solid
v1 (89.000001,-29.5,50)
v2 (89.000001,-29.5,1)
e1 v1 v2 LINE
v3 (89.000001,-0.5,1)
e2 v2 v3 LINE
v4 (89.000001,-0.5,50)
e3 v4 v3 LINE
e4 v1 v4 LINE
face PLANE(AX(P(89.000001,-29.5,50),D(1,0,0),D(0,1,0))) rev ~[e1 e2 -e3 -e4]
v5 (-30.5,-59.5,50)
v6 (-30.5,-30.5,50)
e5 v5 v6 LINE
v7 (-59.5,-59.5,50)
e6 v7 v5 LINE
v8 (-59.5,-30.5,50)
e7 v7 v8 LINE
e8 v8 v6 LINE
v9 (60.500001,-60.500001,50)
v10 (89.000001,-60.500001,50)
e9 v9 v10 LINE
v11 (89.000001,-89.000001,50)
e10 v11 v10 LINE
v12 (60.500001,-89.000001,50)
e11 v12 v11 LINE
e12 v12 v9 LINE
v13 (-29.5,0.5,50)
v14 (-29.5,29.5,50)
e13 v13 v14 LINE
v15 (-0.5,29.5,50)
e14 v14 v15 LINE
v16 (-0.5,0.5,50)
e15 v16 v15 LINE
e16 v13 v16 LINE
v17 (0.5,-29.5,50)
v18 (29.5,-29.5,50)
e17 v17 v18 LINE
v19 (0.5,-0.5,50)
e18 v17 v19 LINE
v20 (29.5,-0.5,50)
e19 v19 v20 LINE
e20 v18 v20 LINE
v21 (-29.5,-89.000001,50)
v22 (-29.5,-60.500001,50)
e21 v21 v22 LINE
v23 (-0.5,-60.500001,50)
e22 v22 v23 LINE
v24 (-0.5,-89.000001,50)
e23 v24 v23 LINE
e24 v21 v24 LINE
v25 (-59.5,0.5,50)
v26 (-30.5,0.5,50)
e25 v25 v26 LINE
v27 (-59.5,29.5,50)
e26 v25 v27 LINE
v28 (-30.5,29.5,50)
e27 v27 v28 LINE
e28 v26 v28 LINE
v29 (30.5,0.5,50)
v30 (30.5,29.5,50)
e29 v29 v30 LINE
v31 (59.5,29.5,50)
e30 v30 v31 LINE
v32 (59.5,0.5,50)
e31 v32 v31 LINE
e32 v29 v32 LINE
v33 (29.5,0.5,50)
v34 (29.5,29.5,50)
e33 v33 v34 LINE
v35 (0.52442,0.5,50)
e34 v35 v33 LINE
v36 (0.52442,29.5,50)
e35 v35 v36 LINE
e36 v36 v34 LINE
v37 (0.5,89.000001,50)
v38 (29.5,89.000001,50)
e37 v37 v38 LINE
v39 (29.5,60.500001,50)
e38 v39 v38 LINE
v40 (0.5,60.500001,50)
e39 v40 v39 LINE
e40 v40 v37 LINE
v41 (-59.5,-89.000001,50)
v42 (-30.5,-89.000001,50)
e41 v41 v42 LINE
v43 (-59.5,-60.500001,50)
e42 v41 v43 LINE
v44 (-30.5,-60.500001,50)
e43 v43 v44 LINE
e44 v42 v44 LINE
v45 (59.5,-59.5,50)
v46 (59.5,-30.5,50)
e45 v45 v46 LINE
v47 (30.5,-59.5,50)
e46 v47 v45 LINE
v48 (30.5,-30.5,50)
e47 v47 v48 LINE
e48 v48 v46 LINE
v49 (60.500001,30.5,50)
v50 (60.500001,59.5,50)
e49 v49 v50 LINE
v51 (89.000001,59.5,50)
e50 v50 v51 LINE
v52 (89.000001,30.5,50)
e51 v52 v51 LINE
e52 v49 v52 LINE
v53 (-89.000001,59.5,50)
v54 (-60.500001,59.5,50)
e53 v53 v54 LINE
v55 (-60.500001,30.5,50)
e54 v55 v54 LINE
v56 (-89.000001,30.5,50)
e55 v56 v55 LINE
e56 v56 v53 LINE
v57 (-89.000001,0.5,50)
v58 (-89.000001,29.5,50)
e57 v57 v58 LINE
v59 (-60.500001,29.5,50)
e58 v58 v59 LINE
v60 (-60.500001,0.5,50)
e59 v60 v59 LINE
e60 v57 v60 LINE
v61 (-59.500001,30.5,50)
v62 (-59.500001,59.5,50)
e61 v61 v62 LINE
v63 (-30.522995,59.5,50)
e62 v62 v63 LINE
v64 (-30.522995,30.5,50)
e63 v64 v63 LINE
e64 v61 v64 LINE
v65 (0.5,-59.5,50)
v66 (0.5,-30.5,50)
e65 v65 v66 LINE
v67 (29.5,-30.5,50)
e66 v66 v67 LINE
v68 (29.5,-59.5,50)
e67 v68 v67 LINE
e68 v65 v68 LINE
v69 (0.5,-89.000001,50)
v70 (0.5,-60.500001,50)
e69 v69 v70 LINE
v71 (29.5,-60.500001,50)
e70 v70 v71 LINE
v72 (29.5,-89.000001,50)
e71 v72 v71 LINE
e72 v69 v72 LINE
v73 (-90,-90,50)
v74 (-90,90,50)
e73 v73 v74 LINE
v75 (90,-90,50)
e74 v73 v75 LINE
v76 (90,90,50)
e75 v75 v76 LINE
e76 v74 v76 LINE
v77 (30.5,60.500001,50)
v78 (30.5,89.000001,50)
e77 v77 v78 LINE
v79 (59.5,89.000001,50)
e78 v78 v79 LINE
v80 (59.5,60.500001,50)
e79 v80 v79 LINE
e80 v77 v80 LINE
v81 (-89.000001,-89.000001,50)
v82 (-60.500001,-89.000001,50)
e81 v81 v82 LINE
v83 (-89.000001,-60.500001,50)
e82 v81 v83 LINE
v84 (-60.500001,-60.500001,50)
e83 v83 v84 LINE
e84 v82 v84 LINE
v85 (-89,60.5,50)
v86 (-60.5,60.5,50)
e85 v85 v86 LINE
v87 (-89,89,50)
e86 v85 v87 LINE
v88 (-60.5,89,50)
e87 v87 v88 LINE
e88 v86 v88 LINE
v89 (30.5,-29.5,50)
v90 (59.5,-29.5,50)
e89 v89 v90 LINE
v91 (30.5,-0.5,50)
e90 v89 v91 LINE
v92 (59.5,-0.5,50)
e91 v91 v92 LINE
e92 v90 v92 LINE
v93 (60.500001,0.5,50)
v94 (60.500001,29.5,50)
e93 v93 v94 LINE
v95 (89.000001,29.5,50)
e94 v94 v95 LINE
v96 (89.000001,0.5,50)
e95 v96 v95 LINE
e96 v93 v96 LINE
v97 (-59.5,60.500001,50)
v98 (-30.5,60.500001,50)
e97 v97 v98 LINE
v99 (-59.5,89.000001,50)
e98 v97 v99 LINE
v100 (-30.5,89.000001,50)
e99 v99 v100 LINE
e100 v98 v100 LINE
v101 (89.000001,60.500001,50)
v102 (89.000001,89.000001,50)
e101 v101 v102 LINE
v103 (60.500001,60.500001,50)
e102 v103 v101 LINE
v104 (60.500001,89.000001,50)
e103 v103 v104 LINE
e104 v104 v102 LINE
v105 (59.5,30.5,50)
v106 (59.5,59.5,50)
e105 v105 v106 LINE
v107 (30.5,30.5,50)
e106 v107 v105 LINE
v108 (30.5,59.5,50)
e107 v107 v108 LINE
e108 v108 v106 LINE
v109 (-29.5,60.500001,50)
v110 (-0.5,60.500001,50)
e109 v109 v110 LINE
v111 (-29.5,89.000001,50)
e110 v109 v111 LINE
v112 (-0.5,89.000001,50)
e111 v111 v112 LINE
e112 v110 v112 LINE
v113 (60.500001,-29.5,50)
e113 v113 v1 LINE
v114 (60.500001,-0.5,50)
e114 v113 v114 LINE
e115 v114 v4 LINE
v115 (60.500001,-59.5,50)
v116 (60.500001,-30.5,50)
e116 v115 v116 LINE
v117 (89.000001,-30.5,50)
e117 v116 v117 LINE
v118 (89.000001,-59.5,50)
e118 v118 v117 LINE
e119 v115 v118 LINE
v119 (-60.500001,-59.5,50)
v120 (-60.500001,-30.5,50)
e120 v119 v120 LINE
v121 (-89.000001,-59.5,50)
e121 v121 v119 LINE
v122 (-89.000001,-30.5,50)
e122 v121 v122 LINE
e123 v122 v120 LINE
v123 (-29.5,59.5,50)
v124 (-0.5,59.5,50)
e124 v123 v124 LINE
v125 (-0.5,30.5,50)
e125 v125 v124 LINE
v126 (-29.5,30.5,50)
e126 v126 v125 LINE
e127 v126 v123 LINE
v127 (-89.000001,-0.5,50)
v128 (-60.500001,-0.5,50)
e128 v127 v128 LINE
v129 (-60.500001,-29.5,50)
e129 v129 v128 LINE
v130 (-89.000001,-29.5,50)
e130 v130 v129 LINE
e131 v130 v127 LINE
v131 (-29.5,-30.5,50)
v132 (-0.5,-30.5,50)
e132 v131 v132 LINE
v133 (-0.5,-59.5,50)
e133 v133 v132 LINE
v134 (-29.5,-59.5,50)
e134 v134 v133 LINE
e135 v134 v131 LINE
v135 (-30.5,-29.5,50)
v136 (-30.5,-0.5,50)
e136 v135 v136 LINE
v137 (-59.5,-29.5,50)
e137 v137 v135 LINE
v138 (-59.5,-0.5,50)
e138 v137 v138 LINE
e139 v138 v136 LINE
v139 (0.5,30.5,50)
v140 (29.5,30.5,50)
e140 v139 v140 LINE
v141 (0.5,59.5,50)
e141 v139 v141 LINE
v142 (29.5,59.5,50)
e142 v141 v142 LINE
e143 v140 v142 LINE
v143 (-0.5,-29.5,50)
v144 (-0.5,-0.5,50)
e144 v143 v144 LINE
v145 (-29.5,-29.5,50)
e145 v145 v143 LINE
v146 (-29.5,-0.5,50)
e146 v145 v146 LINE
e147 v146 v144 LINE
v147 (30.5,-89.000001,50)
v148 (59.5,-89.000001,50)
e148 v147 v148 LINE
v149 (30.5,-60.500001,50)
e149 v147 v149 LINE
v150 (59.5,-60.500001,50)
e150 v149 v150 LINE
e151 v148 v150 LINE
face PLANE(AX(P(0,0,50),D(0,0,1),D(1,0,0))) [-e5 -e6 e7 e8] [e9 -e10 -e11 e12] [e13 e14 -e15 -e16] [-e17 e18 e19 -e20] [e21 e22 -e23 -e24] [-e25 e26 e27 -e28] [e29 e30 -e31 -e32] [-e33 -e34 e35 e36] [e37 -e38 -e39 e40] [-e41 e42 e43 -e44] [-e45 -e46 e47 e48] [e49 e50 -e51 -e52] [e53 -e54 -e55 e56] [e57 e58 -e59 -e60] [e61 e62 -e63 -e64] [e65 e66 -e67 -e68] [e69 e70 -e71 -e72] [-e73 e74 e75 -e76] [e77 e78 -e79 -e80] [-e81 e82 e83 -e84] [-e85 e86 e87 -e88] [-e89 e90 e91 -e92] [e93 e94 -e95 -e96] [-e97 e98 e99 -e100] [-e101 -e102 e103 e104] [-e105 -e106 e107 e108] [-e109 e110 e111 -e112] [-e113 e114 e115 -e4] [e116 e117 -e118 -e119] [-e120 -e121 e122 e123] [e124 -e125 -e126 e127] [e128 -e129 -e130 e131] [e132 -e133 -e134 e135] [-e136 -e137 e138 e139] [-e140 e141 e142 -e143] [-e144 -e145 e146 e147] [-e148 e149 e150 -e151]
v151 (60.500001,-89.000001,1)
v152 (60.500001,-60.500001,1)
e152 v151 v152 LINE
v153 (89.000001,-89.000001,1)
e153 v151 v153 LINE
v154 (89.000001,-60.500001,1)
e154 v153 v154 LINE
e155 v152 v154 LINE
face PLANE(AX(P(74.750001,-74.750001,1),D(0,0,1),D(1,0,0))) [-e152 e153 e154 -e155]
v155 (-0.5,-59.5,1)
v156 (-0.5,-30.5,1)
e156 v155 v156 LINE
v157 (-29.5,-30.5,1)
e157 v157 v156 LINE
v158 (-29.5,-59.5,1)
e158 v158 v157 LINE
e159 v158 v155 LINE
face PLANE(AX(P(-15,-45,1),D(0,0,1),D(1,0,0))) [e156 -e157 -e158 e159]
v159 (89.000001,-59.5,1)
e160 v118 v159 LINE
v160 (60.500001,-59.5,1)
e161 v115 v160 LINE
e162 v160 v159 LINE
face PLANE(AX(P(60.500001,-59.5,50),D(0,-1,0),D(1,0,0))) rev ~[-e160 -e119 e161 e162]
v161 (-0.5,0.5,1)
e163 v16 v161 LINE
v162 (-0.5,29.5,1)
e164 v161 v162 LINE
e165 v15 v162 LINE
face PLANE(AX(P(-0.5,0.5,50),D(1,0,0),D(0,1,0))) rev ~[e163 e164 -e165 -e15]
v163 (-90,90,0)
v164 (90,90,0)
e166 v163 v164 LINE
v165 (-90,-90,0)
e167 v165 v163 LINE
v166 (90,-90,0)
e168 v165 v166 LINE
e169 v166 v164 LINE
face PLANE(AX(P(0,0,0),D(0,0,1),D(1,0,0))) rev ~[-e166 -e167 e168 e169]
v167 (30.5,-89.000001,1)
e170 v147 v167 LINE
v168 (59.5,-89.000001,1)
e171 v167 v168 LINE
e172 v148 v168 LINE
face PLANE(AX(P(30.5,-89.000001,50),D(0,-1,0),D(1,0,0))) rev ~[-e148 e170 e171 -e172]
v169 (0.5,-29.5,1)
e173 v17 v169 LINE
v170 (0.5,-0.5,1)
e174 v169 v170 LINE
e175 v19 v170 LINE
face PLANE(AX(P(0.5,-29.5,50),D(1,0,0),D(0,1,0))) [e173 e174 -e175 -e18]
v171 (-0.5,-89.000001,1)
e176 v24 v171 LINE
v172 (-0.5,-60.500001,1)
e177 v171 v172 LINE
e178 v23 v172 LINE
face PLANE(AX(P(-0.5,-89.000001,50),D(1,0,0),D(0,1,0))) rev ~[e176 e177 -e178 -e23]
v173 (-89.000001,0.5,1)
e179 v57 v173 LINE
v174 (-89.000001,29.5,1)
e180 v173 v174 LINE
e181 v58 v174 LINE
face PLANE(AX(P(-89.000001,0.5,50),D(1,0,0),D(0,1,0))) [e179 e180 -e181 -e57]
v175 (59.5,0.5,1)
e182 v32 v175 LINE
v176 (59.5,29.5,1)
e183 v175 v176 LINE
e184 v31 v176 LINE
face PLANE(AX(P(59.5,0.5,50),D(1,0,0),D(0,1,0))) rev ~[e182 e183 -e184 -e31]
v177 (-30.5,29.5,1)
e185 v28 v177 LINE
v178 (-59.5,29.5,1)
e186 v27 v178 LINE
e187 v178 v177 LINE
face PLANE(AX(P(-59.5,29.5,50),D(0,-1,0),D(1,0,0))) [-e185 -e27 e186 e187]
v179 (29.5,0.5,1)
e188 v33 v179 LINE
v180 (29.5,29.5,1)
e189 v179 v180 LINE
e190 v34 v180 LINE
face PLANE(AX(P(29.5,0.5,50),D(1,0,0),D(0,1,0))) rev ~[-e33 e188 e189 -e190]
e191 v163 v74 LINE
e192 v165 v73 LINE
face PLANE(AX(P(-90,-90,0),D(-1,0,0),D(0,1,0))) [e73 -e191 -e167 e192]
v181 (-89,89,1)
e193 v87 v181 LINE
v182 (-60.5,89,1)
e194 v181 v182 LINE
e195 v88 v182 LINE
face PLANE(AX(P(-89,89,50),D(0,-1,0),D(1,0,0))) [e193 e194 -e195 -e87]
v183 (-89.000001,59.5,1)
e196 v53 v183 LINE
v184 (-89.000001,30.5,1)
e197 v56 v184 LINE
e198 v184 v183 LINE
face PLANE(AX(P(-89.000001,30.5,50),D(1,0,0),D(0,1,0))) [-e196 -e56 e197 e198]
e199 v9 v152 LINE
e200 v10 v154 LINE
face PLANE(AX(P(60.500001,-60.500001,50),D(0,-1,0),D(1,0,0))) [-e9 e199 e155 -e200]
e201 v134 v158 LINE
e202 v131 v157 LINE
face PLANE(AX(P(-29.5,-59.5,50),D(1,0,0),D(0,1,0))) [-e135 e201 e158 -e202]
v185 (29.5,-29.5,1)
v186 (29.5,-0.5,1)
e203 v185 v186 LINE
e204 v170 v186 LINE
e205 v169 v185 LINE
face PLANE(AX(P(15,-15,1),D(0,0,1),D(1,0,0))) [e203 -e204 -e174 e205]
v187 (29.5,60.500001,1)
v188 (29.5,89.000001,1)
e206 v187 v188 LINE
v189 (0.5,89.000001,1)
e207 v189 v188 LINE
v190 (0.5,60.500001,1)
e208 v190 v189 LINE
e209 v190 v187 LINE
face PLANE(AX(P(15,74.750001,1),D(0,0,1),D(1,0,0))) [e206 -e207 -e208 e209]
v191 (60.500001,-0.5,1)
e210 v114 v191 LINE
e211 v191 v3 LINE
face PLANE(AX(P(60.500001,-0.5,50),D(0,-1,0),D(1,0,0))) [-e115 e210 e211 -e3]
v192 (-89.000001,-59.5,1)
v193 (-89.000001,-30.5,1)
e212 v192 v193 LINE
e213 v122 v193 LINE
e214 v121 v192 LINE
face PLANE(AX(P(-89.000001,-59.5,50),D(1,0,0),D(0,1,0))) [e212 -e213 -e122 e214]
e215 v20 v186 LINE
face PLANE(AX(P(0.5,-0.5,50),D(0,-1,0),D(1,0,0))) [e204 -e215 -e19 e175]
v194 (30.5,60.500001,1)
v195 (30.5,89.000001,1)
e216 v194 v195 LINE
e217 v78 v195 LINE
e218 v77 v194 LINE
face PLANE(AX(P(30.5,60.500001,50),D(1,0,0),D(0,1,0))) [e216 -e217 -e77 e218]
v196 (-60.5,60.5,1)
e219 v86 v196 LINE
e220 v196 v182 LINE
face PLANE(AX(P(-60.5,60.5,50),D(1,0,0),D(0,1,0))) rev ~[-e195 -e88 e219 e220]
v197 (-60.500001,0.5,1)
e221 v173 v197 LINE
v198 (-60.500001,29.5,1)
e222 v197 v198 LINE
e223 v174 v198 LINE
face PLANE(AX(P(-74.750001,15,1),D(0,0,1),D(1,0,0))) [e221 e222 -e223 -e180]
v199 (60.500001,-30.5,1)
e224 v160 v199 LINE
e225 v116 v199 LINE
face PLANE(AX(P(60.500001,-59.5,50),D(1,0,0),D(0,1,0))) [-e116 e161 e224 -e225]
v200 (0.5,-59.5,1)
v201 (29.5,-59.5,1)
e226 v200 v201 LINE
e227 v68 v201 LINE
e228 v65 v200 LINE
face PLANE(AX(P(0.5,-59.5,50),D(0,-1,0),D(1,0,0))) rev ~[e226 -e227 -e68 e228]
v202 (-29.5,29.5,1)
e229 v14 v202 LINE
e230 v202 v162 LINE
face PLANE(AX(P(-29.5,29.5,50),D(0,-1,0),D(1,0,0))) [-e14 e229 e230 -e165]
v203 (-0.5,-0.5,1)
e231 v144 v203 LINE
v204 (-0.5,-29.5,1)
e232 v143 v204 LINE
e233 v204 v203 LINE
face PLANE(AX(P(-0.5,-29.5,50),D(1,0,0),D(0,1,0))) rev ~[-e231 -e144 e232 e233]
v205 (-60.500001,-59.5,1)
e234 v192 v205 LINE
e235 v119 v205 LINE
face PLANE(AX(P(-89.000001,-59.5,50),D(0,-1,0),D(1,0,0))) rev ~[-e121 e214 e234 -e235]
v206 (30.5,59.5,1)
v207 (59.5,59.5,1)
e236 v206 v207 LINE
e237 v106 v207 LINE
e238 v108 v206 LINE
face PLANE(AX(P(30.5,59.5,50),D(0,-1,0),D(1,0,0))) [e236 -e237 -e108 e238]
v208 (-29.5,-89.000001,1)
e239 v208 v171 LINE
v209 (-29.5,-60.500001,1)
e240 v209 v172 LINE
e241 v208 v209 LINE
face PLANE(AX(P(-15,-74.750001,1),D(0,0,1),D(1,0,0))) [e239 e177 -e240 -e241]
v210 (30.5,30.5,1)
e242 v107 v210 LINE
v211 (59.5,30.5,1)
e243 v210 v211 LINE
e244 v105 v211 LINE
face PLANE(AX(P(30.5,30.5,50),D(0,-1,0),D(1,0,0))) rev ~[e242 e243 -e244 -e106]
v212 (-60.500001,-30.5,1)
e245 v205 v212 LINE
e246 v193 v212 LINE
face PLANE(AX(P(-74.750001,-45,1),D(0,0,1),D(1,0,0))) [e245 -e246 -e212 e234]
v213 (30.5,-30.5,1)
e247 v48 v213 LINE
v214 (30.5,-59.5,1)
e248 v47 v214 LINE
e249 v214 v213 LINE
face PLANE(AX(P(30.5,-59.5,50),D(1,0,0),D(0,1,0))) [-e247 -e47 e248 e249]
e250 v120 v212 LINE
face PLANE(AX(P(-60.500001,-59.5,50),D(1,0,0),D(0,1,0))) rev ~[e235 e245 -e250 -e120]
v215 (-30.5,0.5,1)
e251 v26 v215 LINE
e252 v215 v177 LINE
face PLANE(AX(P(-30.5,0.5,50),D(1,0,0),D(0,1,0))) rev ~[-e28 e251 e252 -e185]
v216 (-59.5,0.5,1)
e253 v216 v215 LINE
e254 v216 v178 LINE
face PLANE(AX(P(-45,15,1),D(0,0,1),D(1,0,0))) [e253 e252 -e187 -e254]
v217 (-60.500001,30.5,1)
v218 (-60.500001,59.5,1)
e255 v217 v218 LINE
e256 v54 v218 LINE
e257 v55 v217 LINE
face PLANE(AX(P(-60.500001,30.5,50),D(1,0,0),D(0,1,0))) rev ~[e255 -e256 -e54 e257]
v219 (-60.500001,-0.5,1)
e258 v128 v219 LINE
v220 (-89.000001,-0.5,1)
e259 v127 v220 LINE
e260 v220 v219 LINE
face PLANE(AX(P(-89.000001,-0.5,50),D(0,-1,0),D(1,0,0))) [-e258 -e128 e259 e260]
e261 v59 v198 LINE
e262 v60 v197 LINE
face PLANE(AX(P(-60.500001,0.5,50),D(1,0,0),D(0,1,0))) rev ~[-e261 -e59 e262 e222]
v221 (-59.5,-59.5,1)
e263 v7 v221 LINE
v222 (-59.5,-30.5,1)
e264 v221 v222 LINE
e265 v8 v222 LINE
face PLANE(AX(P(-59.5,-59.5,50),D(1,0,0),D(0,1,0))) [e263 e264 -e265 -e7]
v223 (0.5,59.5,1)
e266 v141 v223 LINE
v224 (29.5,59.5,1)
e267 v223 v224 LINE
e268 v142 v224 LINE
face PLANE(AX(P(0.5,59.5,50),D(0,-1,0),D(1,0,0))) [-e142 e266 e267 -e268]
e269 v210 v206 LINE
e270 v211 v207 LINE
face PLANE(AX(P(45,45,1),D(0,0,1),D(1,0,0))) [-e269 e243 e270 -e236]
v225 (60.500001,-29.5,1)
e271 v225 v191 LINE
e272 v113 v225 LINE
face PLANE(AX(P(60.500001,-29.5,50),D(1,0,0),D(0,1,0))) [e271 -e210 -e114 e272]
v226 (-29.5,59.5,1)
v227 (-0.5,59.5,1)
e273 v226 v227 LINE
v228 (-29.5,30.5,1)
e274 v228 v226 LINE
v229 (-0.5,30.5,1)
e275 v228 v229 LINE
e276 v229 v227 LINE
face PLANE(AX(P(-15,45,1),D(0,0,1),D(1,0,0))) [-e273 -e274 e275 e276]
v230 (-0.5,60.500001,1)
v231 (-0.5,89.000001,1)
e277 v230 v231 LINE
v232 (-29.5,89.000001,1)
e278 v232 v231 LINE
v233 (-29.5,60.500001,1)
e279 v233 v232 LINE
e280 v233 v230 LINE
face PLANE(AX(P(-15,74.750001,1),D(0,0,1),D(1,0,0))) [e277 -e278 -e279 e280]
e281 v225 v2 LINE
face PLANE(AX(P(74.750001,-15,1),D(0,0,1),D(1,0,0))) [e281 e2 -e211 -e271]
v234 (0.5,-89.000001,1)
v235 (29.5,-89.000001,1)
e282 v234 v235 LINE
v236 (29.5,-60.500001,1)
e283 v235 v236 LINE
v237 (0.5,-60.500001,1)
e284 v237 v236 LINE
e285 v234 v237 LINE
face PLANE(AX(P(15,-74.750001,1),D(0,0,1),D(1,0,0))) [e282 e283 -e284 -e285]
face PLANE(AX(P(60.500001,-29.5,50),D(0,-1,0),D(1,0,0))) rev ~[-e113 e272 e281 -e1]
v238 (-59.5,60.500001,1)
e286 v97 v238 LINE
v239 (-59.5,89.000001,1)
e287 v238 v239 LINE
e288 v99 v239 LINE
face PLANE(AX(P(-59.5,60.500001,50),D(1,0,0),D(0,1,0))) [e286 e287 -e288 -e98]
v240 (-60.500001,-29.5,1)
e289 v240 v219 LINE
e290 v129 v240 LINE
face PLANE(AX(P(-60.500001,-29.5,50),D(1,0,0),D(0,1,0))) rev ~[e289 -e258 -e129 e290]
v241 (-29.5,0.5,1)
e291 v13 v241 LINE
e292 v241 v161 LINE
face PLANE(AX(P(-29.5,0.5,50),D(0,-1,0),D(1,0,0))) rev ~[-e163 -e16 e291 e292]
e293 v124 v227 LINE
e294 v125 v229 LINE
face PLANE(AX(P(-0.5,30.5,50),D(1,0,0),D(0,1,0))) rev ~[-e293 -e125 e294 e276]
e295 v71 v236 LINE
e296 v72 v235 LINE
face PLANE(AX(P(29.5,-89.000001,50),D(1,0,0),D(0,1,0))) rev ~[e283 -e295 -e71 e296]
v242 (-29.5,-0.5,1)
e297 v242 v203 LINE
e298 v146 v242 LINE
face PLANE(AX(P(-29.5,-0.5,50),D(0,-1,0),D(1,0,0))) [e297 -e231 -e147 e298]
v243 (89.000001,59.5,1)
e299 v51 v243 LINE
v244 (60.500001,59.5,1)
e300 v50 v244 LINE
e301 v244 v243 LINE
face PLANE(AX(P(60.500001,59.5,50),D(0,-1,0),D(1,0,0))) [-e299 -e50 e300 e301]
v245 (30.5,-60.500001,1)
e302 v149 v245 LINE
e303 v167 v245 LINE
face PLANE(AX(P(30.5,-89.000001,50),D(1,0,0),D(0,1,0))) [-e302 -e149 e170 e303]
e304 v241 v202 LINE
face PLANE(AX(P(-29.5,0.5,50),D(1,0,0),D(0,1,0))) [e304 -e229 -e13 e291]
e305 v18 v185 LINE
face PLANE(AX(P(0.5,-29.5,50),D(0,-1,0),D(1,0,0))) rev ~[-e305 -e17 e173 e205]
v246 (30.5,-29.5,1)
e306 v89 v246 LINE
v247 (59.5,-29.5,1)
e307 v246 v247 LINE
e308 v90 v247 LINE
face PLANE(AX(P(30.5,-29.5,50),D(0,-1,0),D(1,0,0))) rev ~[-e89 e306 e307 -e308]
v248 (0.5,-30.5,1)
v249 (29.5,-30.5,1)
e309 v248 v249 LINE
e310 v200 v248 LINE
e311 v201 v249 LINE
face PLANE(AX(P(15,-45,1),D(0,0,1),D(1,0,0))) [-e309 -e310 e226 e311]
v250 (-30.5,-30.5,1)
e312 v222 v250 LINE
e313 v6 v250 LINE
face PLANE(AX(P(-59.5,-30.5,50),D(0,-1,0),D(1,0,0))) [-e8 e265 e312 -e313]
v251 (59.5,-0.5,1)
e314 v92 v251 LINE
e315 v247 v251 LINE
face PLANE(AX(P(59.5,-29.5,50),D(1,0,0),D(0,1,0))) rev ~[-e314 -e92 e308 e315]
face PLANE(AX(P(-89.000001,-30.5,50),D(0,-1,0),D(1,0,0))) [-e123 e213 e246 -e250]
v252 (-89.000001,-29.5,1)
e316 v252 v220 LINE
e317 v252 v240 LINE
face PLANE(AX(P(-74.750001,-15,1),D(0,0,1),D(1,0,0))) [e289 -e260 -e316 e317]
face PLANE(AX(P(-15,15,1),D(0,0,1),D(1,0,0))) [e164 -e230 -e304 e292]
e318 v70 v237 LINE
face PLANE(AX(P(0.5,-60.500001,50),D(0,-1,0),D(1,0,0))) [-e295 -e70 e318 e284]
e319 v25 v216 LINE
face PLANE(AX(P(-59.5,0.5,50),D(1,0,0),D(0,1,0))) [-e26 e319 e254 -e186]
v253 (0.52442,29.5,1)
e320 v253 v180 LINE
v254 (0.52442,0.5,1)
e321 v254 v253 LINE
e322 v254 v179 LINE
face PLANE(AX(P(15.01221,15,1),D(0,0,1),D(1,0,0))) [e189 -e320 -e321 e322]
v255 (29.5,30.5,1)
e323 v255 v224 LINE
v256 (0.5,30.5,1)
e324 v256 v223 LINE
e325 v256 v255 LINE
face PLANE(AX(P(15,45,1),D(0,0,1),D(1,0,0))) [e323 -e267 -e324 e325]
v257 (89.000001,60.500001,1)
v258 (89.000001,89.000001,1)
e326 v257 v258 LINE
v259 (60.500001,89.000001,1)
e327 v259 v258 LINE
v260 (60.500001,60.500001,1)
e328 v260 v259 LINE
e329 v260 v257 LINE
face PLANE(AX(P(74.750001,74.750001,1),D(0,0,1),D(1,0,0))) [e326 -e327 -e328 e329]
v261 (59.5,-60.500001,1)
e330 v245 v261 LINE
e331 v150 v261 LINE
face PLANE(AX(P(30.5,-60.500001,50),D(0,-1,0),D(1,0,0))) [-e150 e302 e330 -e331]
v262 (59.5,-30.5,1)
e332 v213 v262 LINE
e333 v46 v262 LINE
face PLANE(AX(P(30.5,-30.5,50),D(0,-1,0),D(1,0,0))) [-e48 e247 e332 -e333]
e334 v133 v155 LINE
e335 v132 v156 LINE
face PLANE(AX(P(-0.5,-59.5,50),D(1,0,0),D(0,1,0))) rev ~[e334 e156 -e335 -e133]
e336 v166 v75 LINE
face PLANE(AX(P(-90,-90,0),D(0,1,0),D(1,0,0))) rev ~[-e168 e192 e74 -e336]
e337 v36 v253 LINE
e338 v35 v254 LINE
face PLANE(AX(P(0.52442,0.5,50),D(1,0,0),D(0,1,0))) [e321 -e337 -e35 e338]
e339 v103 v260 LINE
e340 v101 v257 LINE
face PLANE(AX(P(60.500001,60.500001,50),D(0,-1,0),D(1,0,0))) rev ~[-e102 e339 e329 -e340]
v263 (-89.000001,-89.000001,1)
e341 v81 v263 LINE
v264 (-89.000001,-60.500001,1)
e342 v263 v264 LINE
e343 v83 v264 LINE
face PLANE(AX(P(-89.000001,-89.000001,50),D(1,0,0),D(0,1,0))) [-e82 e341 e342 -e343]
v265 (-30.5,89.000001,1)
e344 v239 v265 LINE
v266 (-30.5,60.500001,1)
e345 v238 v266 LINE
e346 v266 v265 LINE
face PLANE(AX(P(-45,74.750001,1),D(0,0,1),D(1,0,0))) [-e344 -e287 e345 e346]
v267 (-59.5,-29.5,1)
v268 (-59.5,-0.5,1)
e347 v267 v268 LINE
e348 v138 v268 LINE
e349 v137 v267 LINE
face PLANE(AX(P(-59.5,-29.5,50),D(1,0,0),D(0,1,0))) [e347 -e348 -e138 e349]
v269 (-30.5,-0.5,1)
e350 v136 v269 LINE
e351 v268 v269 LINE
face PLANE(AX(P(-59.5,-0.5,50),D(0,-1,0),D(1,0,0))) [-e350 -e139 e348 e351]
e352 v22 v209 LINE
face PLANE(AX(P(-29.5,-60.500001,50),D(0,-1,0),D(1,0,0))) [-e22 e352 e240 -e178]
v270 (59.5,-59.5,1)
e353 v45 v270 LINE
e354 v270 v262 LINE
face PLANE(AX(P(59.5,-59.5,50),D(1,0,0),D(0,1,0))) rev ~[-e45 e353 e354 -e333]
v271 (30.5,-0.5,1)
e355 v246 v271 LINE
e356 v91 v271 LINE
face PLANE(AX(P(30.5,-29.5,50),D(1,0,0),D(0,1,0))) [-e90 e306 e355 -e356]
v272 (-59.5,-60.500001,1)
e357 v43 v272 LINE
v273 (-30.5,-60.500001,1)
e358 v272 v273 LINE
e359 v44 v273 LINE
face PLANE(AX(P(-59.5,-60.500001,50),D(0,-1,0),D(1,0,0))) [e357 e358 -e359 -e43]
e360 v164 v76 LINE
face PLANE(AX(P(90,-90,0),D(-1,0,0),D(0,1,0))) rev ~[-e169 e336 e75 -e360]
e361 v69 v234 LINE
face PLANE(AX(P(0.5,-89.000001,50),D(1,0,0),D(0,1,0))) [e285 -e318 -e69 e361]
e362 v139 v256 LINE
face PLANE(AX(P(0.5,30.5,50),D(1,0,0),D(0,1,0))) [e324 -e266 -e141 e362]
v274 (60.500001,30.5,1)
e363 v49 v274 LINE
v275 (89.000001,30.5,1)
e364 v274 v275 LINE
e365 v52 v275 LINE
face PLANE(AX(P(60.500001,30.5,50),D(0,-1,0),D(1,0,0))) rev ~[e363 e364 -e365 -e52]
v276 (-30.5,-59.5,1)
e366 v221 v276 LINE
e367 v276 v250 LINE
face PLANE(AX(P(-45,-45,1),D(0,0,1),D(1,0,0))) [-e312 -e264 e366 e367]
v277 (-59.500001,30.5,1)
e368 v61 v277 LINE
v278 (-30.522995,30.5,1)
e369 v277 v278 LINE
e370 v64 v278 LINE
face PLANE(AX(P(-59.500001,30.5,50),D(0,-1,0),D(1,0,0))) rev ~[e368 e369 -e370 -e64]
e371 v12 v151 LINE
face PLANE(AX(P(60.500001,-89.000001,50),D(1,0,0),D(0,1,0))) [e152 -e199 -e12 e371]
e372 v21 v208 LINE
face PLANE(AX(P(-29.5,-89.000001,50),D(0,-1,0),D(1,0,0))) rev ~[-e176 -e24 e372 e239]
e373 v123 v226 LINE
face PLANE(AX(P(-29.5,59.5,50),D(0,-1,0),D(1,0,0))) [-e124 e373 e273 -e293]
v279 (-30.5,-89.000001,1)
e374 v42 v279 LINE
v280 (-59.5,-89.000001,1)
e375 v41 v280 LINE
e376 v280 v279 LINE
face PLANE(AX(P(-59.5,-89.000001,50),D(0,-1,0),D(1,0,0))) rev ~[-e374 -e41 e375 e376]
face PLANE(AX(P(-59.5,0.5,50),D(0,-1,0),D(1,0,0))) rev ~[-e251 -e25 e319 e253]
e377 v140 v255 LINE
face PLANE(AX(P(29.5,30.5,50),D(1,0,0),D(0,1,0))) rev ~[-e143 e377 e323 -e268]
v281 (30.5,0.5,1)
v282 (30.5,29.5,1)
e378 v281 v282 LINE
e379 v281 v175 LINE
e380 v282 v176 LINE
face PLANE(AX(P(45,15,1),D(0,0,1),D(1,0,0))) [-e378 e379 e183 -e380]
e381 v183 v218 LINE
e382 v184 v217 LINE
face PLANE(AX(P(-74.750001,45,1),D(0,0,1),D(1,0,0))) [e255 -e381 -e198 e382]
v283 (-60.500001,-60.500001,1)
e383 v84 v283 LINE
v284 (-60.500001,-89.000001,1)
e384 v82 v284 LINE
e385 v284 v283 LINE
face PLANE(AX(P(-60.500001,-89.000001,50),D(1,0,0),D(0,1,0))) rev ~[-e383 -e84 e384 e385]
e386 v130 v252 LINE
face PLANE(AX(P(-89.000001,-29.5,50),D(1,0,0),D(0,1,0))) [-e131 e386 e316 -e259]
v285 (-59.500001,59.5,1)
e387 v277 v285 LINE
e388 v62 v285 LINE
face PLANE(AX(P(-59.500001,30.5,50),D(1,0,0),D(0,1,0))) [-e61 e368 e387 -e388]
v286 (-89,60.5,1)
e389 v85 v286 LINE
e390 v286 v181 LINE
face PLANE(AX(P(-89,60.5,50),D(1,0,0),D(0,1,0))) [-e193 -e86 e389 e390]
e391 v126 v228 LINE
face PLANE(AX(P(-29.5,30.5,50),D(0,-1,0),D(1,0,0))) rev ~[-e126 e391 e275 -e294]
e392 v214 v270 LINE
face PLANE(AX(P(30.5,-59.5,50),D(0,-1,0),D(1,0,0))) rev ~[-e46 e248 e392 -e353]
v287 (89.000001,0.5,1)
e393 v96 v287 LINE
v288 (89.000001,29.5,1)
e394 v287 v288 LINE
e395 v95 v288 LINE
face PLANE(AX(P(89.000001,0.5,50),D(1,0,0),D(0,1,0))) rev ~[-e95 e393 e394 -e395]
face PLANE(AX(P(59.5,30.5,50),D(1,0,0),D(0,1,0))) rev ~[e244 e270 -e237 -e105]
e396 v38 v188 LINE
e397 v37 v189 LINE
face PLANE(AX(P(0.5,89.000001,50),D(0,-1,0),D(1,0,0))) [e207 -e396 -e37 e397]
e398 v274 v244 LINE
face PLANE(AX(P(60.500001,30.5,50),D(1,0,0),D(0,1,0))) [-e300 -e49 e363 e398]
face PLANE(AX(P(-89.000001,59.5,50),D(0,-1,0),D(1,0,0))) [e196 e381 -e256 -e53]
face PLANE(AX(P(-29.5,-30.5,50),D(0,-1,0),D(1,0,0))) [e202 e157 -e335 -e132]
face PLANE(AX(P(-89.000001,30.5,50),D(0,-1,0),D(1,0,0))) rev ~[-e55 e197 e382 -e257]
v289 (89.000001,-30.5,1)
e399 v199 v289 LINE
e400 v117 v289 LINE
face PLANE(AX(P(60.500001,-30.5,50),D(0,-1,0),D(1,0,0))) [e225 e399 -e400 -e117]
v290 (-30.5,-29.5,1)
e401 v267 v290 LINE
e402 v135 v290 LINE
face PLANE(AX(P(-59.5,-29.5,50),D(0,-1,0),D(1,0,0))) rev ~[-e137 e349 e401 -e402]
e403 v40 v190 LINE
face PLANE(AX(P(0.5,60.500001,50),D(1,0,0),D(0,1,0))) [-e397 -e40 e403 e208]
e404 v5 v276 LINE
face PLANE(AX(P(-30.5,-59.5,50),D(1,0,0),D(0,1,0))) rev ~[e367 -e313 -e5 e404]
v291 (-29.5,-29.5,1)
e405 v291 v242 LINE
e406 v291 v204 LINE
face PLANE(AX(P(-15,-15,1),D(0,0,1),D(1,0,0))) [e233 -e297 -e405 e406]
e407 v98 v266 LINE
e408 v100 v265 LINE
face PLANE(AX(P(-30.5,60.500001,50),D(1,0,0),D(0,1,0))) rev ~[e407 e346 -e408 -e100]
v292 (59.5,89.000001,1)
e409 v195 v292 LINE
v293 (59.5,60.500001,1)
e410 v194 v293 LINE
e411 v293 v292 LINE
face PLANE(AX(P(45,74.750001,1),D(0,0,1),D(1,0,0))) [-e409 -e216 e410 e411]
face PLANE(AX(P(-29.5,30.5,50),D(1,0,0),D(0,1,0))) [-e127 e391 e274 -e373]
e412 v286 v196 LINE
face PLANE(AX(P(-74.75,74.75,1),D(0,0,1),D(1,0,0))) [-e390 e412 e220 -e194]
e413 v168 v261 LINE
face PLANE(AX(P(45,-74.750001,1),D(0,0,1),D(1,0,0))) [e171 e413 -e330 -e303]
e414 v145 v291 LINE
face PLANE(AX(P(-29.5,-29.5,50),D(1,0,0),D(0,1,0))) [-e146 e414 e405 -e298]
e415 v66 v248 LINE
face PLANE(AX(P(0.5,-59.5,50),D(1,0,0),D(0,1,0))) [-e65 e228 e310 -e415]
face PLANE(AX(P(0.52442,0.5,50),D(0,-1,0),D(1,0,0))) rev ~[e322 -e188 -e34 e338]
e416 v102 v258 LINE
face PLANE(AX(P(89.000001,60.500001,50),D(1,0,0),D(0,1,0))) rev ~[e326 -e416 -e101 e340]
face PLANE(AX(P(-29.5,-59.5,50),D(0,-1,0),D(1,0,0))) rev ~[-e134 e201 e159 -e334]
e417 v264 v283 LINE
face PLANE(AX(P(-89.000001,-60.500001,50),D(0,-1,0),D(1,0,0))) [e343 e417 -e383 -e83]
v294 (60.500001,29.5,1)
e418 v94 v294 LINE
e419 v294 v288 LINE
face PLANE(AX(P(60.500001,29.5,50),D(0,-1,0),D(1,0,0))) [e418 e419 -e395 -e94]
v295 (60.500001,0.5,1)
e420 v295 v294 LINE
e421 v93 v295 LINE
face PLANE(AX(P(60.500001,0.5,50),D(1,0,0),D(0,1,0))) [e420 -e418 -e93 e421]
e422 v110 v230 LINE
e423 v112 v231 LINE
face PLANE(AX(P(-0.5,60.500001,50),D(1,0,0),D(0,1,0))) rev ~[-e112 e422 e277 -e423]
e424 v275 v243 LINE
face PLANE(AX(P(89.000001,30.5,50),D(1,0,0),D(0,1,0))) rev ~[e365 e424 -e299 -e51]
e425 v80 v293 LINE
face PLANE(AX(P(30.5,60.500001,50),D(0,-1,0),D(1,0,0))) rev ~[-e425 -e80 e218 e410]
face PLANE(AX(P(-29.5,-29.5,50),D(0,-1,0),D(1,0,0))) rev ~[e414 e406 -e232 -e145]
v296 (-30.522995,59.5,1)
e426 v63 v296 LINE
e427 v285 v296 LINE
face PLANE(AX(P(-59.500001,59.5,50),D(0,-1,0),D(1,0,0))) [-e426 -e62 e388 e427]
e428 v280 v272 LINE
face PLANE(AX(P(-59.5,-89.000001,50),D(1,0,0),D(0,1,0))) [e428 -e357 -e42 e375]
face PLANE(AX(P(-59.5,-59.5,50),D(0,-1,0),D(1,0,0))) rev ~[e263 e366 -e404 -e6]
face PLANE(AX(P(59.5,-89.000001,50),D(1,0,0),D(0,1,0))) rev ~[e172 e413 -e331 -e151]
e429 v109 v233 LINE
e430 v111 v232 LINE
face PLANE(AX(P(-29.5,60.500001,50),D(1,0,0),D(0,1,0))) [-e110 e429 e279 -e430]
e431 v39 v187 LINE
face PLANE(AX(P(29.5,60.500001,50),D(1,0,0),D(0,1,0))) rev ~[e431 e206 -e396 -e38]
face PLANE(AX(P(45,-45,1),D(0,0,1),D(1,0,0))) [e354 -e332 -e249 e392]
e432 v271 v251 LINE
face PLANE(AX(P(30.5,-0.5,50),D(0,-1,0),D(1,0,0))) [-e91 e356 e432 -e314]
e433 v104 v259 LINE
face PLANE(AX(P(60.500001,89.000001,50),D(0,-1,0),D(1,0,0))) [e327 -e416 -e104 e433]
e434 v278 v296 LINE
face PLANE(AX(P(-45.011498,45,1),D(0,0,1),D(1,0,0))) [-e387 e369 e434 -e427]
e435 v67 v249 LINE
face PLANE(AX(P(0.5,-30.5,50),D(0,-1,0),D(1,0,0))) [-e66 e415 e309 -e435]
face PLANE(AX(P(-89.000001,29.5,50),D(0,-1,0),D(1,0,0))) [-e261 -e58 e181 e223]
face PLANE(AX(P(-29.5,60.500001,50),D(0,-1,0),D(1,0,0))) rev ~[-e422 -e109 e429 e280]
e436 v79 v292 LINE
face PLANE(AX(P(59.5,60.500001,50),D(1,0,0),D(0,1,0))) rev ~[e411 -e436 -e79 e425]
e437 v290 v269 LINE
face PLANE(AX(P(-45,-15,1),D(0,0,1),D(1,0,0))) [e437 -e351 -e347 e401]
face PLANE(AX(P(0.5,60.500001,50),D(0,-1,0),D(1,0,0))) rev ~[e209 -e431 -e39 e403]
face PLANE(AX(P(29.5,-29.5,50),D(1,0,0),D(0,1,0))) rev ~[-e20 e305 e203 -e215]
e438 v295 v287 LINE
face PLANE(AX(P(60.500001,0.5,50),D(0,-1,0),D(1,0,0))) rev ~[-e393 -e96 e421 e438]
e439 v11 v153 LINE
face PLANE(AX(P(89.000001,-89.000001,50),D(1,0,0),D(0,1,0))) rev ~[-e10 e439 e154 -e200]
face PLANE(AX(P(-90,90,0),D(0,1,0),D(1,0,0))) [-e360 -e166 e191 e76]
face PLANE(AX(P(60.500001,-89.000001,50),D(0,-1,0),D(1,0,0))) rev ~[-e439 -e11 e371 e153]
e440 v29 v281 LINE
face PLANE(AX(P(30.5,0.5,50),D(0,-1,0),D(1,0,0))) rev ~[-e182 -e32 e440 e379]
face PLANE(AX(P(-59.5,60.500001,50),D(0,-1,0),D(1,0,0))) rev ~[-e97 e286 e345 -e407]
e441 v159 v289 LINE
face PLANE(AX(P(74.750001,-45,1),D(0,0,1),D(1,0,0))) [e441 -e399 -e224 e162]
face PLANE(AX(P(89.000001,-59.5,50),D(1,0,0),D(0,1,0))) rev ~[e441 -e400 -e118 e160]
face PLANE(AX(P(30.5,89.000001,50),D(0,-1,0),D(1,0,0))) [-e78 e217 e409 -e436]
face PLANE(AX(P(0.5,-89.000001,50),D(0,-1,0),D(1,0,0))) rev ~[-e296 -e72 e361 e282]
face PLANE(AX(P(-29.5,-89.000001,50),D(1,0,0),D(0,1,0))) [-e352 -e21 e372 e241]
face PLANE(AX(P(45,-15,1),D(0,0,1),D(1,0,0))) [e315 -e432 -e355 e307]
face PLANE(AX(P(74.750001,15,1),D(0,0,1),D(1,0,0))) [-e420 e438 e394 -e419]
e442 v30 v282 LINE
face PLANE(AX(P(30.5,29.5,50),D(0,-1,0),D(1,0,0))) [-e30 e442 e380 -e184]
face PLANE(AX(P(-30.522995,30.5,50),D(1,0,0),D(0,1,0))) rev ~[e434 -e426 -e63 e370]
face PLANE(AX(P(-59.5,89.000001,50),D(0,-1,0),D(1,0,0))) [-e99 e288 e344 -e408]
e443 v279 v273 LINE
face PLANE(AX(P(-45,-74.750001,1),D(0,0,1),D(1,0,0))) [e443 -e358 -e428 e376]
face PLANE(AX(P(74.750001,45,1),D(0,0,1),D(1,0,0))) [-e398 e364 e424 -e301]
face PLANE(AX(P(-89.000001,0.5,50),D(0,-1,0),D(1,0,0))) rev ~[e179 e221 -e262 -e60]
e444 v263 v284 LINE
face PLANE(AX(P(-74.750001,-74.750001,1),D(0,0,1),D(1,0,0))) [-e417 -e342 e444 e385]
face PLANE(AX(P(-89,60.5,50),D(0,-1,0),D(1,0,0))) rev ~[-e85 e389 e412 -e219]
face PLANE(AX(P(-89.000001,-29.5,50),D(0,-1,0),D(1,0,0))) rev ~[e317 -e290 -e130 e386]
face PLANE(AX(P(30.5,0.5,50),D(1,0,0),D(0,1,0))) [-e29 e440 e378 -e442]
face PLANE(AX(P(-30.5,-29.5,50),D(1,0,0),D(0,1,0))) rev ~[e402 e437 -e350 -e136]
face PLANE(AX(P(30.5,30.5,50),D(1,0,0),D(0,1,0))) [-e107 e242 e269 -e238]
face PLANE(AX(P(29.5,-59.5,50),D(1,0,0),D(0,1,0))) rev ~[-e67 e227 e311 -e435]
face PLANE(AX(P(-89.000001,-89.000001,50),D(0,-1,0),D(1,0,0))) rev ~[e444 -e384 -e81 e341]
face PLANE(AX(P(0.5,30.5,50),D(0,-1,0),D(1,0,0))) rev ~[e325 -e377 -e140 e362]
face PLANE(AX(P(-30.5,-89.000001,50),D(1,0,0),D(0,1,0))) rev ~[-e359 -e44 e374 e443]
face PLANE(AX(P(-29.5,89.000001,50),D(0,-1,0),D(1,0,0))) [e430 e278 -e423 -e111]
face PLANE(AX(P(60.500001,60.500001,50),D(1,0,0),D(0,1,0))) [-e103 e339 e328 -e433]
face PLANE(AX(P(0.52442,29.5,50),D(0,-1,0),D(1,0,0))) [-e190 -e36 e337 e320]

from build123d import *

# Parameters (mm, degrees)
SKETCH_W      = 180
SKETCH_H      = 180
PAD_DEPTH     = 50
SKETCH001_W   = 28.499999
SKETCH001_H   = 28.499999
SKETCH001_W_2 = 28.5
SKETCH001_H_2 = 29.000001
SKETCH001_H_3 = 29
SKETCH001_W_3 = 29.000001
SKETCH001_H_4 = 28.5
SKETCH001_W_4 = 28.977006
SKETCH001_W_5 = 29
SKETCH001_W_6 = 28.975581
POCKET_DEPTH  = 49


with BuildPart() as part:
    # Sketch → Pad (new body)
    with BuildSketch(Plane.XY):
        Rectangle(SKETCH_W, SKETCH_H)
    extrude(amount=PAD_DEPTH)

    # Sketch001 (on Face6 of Pad) → Pocket (cut)
    with BuildSketch(Plane.XY.offset(50)):
        with Locations((-74.75, 74.75)):
            Rectangle(SKETCH001_W, SKETCH001_H)
        with Locations((-74.750001, 45)):
            Rectangle(SKETCH001_W_2, SKETCH001_H_2)
        with Locations((-74.750001, 15)):
            Rectangle(SKETCH001_W_2, SKETCH001_H_3)
        with Locations((-45, 74.750001)):
            Rectangle(SKETCH001_W_3, SKETCH001_H_4)
        with Locations((-45.011498, 45)):
            Rectangle(SKETCH001_W_4, SKETCH001_H_2)
        with Locations((-45, 15)):
            Rectangle(SKETCH001_W_3, SKETCH001_H_3)
        with Locations((-15, 74.750001)):
            Rectangle(SKETCH001_W_5, SKETCH001_H_4)
        with Locations((-15, 45)):
            Rectangle(SKETCH001_W_5, SKETCH001_H_2)
        with Locations((-15, 15)):
            Rectangle(SKETCH001_W_5, SKETCH001_H_3)
        with Locations((15, 74.750001)):
            Rectangle(SKETCH001_W_5, SKETCH001_H_4)
        with Locations((15, 45)):
            Rectangle(SKETCH001_W_5, SKETCH001_H_2)
        with Locations((15.01221, 15)):
            Rectangle(SKETCH001_W_6, SKETCH001_H_3)
        with Locations((15, -15)):
            Rectangle(SKETCH001_W_5, SKETCH001_H_3)
        with Locations((15, -45)):
            Rectangle(SKETCH001_W_5, SKETCH001_H_2)
        with Locations((15, -74.750001)):
            Rectangle(SKETCH001_W_5, SKETCH001_H_4)
        with Locations((-74.750001, -15)):
            Rectangle(SKETCH001_W_2, SKETCH001_H_3)
        with Locations((-45, -15)):
            Rectangle(SKETCH001_W_3, SKETCH001_H_3)
        with Locations((-15, -15)):
            Rectangle(SKETCH001_W_5, SKETCH001_H_3)
        with Locations((-15, -45)):
            Rectangle(SKETCH001_W_5, SKETCH001_H_2)
        with Locations((-15, -74.750001)):
            Rectangle(SKETCH001_W_5, SKETCH001_H_4)
        with Locations((-74.750001, -45)):
            Rectangle(SKETCH001_W_2, SKETCH001_H_2)
        with Locations((-45, -45)):
            Rectangle(SKETCH001_W_3, SKETCH001_H_2)
        with Locations((-45, -74.750001)):
            Rectangle(SKETCH001_W_3, SKETCH001_H_4)
        with Locations((-74.750001, -74.750001)):
            Rectangle(SKETCH001_W_2, SKETCH001_H_4)
        with Locations((45, 74.750001)):
            Rectangle(SKETCH001_W_3, SKETCH001_H_4)
        with Locations((45, 45)):
            Rectangle(SKETCH001_W_3, SKETCH001_H_2)
        with Locations((45, 15)):
            Rectangle(SKETCH001_W_3, SKETCH001_H_3)
        with Locations((45, -15)):
            Rectangle(SKETCH001_W_3, SKETCH001_H_3)
        with Locations((45, -45)):
            Rectangle(SKETCH001_W_3, SKETCH001_H_2)
        with Locations((45, -74.750001)):
            Rectangle(SKETCH001_W_3, SKETCH001_H_4)
        with Locations((74.750001, 74.750001)):
            Rectangle(SKETCH001_W_2, SKETCH001_H_4)
        with Locations((74.750001, 45)):
            Rectangle(SKETCH001_W_2, SKETCH001_H_2)
        with Locations((74.750001, 15)):
            Rectangle(SKETCH001_W_2, SKETCH001_H_3)
        with Locations((74.750001, -15)):
            Rectangle(SKETCH001_W_2, SKETCH001_H_3)
        with Locations((74.750001, -45)):
            Rectangle(SKETCH001_W_2, SKETCH001_H_2)
        with Locations((74.750001, -74.750001)):
            Rectangle(SKETCH001_W_2, SKETCH001_H_4)
    extrude(amount=-POCKET_DEPTH, mode=Mode.SUBTRACT)


solid = part.part
